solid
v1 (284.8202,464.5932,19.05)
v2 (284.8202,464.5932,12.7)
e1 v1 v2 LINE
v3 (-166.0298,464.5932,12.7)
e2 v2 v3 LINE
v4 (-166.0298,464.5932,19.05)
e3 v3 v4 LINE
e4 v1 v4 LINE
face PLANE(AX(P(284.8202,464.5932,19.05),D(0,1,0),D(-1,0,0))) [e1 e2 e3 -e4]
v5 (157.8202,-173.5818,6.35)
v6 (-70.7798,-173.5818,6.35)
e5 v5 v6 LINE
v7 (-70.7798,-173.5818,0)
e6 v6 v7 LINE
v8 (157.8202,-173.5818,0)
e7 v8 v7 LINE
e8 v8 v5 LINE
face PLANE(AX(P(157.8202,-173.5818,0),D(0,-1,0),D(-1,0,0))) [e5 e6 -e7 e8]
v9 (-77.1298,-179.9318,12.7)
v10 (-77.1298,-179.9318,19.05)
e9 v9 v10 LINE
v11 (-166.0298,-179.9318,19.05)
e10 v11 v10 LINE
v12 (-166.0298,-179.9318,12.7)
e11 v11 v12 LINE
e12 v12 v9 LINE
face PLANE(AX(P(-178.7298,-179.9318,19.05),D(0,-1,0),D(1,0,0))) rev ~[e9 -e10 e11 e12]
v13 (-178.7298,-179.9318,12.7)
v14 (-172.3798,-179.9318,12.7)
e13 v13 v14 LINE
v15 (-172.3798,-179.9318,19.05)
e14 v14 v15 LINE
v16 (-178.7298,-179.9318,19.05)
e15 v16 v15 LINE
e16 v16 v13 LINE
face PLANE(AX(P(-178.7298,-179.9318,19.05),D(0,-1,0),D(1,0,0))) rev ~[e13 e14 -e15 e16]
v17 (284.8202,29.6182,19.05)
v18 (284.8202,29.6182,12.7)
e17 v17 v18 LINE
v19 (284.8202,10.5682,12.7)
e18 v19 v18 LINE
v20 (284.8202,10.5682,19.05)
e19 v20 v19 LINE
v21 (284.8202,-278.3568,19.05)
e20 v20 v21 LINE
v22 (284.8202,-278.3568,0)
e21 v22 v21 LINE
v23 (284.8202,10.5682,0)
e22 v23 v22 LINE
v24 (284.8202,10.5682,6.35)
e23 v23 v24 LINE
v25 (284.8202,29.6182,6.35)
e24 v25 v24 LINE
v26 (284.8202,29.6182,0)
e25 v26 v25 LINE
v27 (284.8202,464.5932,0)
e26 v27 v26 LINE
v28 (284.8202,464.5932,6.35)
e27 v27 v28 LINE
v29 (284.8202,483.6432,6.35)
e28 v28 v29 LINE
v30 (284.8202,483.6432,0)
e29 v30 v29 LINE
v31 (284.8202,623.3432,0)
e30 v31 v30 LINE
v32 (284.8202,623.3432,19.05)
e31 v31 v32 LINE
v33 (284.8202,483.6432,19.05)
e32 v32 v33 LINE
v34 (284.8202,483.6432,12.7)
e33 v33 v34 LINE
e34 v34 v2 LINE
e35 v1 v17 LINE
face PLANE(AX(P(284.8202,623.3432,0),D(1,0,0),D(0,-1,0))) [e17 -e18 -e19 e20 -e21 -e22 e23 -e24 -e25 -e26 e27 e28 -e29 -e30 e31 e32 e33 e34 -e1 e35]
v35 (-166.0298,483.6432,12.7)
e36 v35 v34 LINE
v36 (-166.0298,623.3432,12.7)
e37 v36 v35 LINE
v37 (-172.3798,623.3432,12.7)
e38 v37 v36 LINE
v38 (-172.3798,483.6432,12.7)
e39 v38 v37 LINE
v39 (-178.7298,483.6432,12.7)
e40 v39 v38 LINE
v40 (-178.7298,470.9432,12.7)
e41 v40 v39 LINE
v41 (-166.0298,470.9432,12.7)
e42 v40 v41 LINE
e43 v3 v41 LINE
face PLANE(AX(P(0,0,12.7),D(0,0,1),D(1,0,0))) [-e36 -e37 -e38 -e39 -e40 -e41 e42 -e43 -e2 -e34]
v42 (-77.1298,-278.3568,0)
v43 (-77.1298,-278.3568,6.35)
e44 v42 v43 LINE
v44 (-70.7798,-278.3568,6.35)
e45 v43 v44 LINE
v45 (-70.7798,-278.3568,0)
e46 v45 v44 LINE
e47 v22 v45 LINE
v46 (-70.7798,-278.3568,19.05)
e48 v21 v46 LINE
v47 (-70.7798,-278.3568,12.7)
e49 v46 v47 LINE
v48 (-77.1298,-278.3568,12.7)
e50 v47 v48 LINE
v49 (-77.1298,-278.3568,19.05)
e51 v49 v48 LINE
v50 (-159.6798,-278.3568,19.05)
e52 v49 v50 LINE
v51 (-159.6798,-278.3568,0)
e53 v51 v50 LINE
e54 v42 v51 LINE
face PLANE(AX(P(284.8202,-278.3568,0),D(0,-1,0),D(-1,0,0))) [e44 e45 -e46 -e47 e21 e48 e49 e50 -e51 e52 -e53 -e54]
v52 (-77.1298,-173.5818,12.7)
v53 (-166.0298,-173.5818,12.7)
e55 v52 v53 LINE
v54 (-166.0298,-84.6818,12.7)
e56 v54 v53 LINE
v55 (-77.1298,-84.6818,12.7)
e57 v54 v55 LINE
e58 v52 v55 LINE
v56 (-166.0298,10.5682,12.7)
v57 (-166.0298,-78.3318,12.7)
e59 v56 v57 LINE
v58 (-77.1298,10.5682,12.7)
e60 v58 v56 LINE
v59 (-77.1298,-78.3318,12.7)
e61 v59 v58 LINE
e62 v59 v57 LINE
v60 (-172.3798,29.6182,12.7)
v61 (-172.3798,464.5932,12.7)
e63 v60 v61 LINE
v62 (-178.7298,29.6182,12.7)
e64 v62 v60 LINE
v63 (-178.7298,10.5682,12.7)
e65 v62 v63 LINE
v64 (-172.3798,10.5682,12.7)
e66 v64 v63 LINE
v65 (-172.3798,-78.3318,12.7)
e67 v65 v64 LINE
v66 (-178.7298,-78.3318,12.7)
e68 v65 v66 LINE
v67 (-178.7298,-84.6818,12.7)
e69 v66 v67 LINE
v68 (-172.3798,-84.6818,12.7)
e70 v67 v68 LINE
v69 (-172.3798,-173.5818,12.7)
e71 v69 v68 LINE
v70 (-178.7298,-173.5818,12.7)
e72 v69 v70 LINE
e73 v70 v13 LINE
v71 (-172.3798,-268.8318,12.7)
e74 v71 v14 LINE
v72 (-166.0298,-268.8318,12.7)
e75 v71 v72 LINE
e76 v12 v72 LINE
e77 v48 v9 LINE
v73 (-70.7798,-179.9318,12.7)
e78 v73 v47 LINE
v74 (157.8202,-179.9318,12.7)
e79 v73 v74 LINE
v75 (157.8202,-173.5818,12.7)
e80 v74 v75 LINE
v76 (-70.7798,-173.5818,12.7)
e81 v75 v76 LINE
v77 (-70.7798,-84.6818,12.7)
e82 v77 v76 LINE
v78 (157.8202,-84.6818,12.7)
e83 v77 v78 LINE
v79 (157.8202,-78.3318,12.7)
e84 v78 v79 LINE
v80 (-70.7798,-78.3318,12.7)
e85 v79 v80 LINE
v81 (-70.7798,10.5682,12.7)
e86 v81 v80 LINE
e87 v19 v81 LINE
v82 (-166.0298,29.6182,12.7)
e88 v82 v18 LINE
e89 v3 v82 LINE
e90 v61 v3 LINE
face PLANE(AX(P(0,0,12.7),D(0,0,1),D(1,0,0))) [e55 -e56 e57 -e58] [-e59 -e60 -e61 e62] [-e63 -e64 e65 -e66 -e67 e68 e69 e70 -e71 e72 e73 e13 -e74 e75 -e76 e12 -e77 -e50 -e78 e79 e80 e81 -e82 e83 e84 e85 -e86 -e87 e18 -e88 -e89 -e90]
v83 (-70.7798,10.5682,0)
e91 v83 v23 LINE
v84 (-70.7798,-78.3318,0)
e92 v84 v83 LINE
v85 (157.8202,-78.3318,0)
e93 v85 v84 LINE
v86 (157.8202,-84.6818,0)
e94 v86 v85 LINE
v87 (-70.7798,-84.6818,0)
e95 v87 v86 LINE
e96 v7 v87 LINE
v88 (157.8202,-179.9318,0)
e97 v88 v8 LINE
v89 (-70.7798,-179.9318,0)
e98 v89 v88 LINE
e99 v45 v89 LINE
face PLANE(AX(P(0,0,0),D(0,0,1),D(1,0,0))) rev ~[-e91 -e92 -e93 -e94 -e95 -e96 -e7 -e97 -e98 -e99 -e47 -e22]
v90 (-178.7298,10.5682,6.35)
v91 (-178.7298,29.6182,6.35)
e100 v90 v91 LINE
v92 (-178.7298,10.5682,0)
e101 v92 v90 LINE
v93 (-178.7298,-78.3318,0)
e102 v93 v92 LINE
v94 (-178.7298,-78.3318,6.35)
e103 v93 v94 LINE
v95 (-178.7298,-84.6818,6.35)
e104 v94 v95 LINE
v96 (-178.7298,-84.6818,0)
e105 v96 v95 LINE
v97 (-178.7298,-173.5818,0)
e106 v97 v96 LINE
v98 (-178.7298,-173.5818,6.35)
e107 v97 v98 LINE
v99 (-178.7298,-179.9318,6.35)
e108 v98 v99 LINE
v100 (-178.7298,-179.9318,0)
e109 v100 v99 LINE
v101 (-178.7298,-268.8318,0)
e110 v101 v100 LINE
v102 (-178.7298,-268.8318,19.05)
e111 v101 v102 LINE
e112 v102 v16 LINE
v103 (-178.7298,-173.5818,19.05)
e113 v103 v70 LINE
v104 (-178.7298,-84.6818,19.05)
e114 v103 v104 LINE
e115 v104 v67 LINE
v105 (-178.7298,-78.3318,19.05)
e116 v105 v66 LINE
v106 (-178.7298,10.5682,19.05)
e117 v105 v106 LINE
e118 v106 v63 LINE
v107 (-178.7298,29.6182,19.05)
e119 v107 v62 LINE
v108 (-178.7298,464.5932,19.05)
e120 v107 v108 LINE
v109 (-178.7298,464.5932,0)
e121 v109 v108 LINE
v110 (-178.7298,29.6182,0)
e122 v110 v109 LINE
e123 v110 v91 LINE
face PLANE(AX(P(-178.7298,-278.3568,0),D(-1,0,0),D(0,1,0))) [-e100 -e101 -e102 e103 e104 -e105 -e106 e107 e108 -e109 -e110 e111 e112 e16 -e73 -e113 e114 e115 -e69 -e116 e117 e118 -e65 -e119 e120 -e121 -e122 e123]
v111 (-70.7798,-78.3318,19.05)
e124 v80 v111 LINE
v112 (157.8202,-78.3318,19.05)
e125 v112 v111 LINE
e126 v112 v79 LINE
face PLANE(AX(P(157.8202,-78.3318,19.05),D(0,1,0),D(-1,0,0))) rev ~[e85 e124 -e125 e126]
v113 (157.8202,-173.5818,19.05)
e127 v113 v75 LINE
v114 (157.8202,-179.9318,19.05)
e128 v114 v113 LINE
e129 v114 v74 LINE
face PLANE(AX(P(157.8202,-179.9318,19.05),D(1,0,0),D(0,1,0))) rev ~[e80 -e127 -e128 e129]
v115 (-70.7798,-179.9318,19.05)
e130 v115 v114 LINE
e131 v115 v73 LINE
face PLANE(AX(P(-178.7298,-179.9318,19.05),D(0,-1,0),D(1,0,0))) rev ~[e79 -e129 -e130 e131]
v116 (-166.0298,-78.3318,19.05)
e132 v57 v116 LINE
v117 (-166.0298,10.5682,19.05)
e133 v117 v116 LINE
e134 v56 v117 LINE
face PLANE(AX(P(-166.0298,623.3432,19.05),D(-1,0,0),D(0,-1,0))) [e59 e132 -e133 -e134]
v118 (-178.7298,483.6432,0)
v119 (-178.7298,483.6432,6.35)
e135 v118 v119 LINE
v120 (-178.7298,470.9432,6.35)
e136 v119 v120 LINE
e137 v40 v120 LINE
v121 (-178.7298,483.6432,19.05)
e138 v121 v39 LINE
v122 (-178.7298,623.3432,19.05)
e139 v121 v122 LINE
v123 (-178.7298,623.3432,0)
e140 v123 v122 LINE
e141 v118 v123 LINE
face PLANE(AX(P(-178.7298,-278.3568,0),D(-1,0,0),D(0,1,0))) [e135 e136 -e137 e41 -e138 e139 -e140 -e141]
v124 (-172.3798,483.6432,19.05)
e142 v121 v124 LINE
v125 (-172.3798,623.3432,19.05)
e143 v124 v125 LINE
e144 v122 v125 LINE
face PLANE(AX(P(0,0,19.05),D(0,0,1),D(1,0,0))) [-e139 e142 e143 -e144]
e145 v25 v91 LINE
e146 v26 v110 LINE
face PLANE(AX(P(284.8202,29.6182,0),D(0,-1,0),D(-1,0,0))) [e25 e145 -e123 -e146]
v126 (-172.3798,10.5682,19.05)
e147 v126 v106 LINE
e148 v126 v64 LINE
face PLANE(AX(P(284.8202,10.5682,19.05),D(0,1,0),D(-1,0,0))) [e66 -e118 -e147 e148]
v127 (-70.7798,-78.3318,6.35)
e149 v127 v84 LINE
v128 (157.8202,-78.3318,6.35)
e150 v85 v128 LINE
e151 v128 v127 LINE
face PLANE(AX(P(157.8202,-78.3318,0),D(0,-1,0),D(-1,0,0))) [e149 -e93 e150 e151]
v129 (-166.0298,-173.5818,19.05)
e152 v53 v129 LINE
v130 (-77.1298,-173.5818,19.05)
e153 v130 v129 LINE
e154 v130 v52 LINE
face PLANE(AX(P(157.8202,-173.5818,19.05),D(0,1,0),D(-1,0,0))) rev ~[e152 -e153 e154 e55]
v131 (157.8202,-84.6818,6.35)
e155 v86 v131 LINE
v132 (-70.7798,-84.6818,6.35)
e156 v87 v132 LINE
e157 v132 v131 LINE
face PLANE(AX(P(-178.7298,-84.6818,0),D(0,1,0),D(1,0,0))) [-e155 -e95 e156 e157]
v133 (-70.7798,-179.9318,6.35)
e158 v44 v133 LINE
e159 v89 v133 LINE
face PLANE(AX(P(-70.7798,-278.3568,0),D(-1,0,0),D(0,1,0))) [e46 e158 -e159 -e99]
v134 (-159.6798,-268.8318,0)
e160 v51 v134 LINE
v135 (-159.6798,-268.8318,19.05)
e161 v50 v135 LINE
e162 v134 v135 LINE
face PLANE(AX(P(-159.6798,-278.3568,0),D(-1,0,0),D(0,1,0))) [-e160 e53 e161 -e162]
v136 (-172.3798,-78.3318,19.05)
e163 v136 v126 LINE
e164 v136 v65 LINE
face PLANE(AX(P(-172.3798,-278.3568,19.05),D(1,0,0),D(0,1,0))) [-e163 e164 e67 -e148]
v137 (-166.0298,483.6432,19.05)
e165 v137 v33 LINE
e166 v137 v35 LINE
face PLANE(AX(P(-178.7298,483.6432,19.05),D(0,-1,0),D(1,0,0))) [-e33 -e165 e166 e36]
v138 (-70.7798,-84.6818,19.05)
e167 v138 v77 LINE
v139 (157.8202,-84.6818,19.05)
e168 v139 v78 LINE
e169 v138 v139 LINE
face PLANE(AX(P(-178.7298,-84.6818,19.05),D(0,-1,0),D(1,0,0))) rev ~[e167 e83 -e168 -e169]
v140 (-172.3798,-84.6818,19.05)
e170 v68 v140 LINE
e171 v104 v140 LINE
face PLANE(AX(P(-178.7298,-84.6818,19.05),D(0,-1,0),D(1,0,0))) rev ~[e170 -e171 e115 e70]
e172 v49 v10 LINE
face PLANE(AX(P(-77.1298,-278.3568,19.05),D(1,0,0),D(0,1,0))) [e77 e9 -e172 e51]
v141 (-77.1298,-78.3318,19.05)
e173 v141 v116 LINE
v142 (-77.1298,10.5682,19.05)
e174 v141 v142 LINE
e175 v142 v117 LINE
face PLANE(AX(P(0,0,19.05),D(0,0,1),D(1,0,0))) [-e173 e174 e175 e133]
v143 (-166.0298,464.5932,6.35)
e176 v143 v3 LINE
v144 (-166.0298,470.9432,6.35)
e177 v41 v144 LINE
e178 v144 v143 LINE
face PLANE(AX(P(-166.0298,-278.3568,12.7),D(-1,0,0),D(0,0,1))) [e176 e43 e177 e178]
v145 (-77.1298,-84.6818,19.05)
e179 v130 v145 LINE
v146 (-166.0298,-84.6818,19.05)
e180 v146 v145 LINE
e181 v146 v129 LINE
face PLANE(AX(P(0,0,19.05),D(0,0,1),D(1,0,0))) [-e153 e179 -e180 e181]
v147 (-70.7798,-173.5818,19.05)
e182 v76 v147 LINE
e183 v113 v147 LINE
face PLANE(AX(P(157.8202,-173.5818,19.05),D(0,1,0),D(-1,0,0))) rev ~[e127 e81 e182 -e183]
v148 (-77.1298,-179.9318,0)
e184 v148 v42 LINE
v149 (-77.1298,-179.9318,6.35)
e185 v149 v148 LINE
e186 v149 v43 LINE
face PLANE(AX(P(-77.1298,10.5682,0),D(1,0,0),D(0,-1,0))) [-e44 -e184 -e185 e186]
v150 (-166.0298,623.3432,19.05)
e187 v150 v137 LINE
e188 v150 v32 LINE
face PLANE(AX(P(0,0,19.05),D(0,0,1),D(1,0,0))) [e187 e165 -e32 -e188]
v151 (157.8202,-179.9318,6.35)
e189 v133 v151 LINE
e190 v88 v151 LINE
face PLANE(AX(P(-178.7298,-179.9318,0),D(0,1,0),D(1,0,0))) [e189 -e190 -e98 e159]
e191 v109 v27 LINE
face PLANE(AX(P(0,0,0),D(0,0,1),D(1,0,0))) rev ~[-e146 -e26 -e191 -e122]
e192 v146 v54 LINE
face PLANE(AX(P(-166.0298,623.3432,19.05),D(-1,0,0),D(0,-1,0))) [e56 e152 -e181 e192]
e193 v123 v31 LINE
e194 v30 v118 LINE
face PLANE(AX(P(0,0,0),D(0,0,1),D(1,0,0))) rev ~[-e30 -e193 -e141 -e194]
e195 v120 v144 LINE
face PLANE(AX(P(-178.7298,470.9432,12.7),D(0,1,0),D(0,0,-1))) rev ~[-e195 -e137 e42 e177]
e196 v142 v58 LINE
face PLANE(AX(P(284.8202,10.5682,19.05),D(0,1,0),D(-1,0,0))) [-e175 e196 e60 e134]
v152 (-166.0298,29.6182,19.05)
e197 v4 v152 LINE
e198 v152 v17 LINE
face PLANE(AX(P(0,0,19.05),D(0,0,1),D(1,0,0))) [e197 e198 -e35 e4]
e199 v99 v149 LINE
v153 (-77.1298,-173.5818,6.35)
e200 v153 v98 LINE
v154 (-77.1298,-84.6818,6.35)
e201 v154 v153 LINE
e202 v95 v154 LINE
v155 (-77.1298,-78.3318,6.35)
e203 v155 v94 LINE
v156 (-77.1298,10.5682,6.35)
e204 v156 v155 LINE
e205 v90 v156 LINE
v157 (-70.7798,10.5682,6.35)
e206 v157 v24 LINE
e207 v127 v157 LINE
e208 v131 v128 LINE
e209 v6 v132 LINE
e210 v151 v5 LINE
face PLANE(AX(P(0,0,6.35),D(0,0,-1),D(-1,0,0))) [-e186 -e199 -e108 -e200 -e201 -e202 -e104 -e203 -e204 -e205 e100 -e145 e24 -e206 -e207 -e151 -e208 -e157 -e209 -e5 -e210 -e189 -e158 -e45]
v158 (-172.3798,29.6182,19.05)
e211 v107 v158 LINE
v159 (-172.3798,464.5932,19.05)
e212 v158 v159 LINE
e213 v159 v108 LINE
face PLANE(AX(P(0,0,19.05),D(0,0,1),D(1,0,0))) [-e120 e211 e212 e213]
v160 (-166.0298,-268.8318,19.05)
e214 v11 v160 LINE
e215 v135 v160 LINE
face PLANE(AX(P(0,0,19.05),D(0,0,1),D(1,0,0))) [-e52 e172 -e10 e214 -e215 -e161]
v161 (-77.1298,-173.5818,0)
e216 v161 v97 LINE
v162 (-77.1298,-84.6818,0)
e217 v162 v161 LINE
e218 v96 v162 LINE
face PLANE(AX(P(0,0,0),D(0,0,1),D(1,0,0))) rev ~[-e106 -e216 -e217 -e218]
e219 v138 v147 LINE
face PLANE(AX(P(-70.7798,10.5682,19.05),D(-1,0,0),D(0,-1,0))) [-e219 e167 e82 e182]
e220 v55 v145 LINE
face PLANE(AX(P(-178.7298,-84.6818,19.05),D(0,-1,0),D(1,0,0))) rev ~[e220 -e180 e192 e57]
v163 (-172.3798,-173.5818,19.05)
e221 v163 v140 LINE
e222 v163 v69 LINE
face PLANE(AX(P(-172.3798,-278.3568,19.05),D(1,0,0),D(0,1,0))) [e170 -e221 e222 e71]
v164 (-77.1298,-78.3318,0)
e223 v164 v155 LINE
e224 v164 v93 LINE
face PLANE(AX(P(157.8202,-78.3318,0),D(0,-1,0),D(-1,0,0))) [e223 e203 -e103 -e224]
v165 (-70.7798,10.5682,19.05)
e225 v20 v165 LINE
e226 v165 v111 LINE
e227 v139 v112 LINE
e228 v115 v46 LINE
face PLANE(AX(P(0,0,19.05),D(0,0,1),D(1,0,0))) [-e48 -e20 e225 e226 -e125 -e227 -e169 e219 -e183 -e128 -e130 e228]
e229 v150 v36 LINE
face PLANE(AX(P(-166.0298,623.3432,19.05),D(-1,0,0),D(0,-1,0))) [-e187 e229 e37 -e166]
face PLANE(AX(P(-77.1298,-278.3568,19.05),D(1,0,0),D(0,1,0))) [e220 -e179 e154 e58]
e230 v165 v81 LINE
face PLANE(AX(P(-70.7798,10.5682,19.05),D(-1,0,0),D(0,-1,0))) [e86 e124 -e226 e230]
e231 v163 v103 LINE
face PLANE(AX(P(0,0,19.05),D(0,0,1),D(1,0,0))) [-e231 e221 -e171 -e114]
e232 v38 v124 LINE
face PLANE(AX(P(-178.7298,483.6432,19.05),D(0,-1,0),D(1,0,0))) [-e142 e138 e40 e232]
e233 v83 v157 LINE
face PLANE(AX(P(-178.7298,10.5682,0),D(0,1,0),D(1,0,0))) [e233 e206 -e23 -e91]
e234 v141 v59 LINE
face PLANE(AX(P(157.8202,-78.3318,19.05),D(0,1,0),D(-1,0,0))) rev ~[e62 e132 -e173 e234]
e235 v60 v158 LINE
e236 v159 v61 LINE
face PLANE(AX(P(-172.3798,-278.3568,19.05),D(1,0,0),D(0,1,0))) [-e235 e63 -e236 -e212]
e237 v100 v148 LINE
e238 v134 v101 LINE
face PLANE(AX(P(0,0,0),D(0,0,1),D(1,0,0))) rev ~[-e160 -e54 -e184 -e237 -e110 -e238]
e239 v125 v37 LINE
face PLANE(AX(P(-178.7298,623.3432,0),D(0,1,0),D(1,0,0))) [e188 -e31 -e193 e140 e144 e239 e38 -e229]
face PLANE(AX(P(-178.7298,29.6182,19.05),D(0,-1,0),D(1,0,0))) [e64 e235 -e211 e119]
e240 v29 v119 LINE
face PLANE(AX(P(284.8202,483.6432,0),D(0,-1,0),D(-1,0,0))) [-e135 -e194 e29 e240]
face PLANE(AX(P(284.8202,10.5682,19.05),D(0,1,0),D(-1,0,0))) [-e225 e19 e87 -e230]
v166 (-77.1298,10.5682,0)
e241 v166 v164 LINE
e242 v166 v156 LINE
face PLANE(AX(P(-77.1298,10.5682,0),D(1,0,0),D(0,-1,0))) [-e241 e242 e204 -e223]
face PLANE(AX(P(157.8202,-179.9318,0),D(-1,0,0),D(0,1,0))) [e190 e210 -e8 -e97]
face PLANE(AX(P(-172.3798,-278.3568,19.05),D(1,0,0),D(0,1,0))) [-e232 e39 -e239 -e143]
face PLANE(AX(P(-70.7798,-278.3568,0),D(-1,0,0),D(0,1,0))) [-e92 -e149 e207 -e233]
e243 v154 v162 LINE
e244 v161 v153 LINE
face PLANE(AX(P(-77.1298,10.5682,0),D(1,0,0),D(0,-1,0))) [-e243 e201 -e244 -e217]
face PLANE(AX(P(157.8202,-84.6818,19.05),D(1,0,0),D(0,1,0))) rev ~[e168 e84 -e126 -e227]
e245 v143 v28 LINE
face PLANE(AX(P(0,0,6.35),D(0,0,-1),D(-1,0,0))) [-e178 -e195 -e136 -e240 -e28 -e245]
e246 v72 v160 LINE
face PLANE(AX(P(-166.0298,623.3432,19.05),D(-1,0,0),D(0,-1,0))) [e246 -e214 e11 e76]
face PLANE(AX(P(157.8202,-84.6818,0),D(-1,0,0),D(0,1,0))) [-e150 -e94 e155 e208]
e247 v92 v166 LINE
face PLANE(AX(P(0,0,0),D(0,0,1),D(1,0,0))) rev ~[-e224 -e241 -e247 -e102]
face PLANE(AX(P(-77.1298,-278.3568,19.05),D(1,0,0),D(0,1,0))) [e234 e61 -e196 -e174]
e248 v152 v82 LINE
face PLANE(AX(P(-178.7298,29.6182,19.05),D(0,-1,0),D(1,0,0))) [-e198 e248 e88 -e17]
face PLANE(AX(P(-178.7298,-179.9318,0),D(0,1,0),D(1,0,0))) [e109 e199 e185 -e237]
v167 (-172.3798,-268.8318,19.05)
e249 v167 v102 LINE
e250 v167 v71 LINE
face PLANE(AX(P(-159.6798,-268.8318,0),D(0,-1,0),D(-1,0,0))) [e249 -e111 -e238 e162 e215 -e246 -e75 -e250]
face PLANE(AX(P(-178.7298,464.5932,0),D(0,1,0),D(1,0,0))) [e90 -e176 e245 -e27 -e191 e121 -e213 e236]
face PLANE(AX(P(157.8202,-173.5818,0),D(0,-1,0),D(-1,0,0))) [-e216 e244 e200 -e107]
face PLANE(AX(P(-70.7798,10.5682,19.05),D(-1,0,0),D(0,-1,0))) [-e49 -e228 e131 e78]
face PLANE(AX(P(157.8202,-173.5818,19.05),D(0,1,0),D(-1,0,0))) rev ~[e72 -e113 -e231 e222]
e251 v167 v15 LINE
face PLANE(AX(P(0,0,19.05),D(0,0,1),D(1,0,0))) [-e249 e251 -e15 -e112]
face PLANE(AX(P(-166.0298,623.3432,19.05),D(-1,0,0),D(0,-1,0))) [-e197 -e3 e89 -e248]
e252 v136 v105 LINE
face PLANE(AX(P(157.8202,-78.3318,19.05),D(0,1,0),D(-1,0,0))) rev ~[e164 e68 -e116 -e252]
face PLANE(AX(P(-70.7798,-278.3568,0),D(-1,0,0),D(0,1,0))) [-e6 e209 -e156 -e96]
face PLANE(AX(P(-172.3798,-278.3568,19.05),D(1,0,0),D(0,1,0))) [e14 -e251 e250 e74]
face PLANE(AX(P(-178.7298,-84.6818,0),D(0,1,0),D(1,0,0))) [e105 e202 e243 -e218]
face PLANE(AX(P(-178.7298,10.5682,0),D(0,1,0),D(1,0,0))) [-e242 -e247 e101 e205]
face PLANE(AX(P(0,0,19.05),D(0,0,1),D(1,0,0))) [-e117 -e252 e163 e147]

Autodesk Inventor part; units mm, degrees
ref_plane "YZ Plane" through (0, 0, 0) normal (1, 0, 0) x (0, 1, 0)
ref_plane "XZ Plane" through (0, 0, 0) normal (0, 1, 0) x (-1, 0, 0)
ref_plane "XY Plane" through (0, 0, 0) normal (0, 0, 1) x (1, 0, 0)
sketch "Sketch1" plane through (0, 0, 0) normal (0, 0, 1) x (1, 0, 0)
  line L0 (-178.7298, 623.3432) -> (284.8202, 623.3432)
  line L1 (284.8202, 623.3432) -> (284.8202, -278.3568)
  line L2 (284.8202, -278.3568) -> (-178.7298, -278.3568)
  line L3 (-178.7298, -278.3568) -> (-178.7298, 623.3432)
  point P0 (0, 0)
  dimension "d0" = 901.7
  dimension "d1" = 463.55
extrude "Board" add sketch "Sketch1" along normal blind 19.05
sketch "Sketch6" plane through (0, 0, 0) normal (0, 0, -1) x (-1, 0, 0)
  line L0 (-284.8202, 483.6432) -> (178.7298, 483.6432)
  line L1 (178.7298, 483.6432) -> (178.7298, 464.5932)
  line L2 (178.7298, 464.5932) -> (-284.8202, 464.5932)
  line L3 (-284.8202, 464.5932) -> (-284.8202, 483.6432)
  line L4 (178.7298, 623.3432) -> (-284.8202, 623.3432) projected
  line L5 (178.7298, -278.3568) -> (178.7298, 623.3432) projected
  line L6 (-284.8202, 623.3432) -> (-284.8202, -278.3568) projected
  line L7 (-284.8202, 29.6182) -> (178.7298, 29.6182)
  line L8 (178.7298, 29.6182) -> (178.7298, 10.5682)
  line L9 (178.7298, 10.5682) -> (-284.8202, 10.5682)
  line L10 (-284.8202, 10.5682) -> (-284.8202, 29.6182)
  point P0 (0, 0)
  dimension "d30" = 19.05
  dimension "d37" = 434.975
  dimension "d119" = 139.7
extrude "Right Shelf Dados" cut sketch "Sketch6" against normal blind 6.35 contours L0 L1 L2 L3 | L7 L5 L9 L6
sketch "Sketch32" plane through (0, 0, 0) normal (0, 0, -1) x (-1, 0, 0)
  line L0 (-157.8202, -78.3318) -> (178.7298, -78.3318)
  line L1 (178.7298, -78.3318) -> (178.7298, -84.6818)
  line L2 (178.7298, -84.6818) -> (-157.8202, -84.6818)
  line L3 (-157.8202, -84.6818) -> (-157.8202, -78.3318)
  line L4 (-157.8202, -173.5818) -> (178.7298, -173.5818)
  line L5 (178.7298, -173.5818) -> (178.7298, -179.9318)
  line L6 (178.7298, -179.9318) -> (-157.8202, -179.9318)
  line L7 (-157.8202, -179.9318) -> (-157.8202, -173.5818)
  line L8 (-284.8202, 623.3432) -> (-284.8202, -278.3568) projected
  line L9 (178.7298, 623.3432) -> (178.7298, -278.3568) projected
  line L10 (-284.8202, -278.3568) -> (178.7298, -278.3568) projected
  point P0 (0, 0)
  point P1 (-284.8202, 10.5682)
  dimension "d142" = 88.9
  dimension "d143" = 6.35
  dimension "d146" = 336.55
  dimension "d167" = 127
  dimension "d170" = 98.425
extrude "Right Wine Rack Horizonal Dados" cut sketch "Sketch32" against normal blind 6.35
sketch "Sketch33" plane through (0, 0, 0) normal (0, 0, -1) x (-1, 0, 0)
  line L0 (178.7298, 10.5682) -> (-284.8202, 10.5682) projected
  line L1 (70.7798, 10.5682) -> (77.1298, 10.5682)
  line L2 (77.1298, 10.5682) -> (77.1298, -278.3568)
  line L3 (77.1298, -278.3568) -> (70.7798, -278.3568)
  line L4 (70.7798, -278.3568) -> (70.7798, 10.5682)
  line L5 (-157.8202, -84.6818) -> (-157.8202, -78.3318) projected
  line L6 (-284.8202, -278.3568) -> (178.7298, -278.3568) projected
  point P0 (0, 0)
  dimension "d149" = 6.35
  dimension "d168" = 228.6
extrude "Right Wine Rack Vertical Dado" cut sketch "Sketch33" against normal blind 6.35
sketch "Sketch7" plane through (0, 0, 19.05) normal (0, 0, 1) x (1, 0, 0)
  line L0 (-178.7298, 483.6432) -> (284.8202, 483.6432)
  line L1 (284.8202, 483.6432) -> (284.8202, 464.5932)
  line L2 (284.8202, 464.5932) -> (-178.7298, 464.5932)
  line L3 (-178.7298, 464.5932) -> (-178.7298, 483.6432)
  line L4 (284.8202, 483.6432) -> (-178.7298, 483.6432) projected
  line L5 (-178.7298, 464.5932) -> (284.8202, 464.5932) projected
  line L6 (284.8202, -278.3568) -> (284.8202, 623.3432) projected
  line L7 (-178.7298, 623.3432) -> (-178.7298, -278.3568) projected
  line L8 (-178.7298, 29.6182) -> (284.8202, 29.6182)
  line L9 (284.8202, 29.6182) -> (284.8202, 10.5682)
  line L10 (284.8202, 10.5682) -> (-178.7298, 10.5682)
  line L11 (-178.7298, 10.5682) -> (-178.7298, 29.6182)
  point P0 (0, 0)
  point P1 (284.8202, 20.0932)
  dimension "d36" = 434.975
extrude "Left Shelf Dados" cut sketch "Sketch7" against normal blind 6.35 contours L0 L1 L2 L3 | L8 L6 L10 L7
sketch "Sketch34" plane through (0, 0, 19.05) normal (0, 0, 1) x (1, 0, 0)
  line L0 (157.8202, -78.3318) -> (-178.7298, -78.3318)
  line L1 (-178.7298, -78.3318) -> (-178.7298, -84.6818)
  line L2 (-178.7298, -84.6818) -> (157.8202, -84.6818)
  line L3 (157.8202, -84.6818) -> (157.8202, -78.3318)
  line L4 (157.8202, -173.5818) -> (-178.7298, -173.5818)
  line L5 (-178.7298, -173.5818) -> (-178.7298, -179.9318)
  line L6 (-178.7298, -179.9318) -> (157.8202, -179.9318)
  line L7 (157.8202, -179.9318) -> (157.8202, -173.5818)
  line L8 (284.8202, -278.3568) -> (284.8202, 10.5682) projected
  line L9 (-178.7298, 10.5682) -> (-178.7298, 483.6432) projected
  line L10 (-178.7298, -278.3568) -> (284.8202, -278.3568) projected
  point P0 (0, 0)
  dimension "d153" = 6.35
  dimension "d155" = 88.9
  dimension "d164" = 127
  dimension "d171" = 98.425
extrude "Left Wine Rack Horizontal Dados" cut sketch "Sketch34" against normal blind 6.35
sketch "Sketch35" plane through (0, 0, 19.05) normal (0, 0, 1) x (1, 0, 0)
  line L0 (284.8202, 10.5682) -> (-178.7298, 10.5682) projected
  line L1 (-77.1298, 10.5682) -> (-70.7798, 10.5682)
  line L2 (-70.7798, 10.5682) -> (-70.7798, -278.3568)
  line L3 (-70.7798, -278.3568) -> (-77.1298, -278.3568)
  line L4 (-77.1298, -278.3568) -> (-77.1298, 10.5682)
  line L5 (157.8202, -78.3318) -> (157.8202, -84.6818) projected
  line L6 (-178.7298, -278.3568) -> (284.8202, -278.3568) projected
  point P0 (0, 0)
  dimension "d159" = 6.35
  dimension "d165" = 228.6
extrude "Left Wine Rack  Vertical Dado" cut sketch "Sketch35" against normal blind 6.35
sketch "Sketch10" plane through (0, 0, 19.05) normal (0, 0, 1) x (1, 0, 0)
  line L0 (284.8202, -278.3568) -> (-178.7298, -278.3568) projected
  line L1 (-172.3798, 623.3432) -> (-166.0298, 623.3432)
  line L2 (-166.0298, 623.3432) -> (-166.0298, -278.3568)
  line L3 (-166.0298, -278.3568) -> (-172.3798, -278.3568)
  line L4 (-172.3798, -278.3568) -> (-172.3798, 623.3432)
  line L5 (-178.7298, 464.5932) -> (-178.7298, 29.6182) projected
  line L6 (284.8202, 623.3432) -> (-178.7298, 623.3432) projected
  point P0 (0, 0)
  point P1 (-172.3798, -278.3568)
  dimension "d172" = 6.35
  dimension "d173" = 6.35
extrude "Vertical Wire Channel" cut sketch "Sketch10" against normal blind 6.35
sketch "Sketch12" plane through (-178.7298, -278.3568, 12.7) normal (-1, 0, 0) x (0, 0, 1)
  line L0 (-6.35, 742.95) -> (0, 742.95)
  line L1 (0, 742.95) -> (0, 749.3)
  line L2 (0, 749.3) -> (-6.35, 749.3)
  line L3 (-6.35, 749.3) -> (-6.35, 742.95)
  line L4 (0, 288.925) -> (0, 307.975) projected
  line L5 (-6.35, 742.95) -> (-12.7, 742.95) projected
  point P0 (0, 0)
  point P1 (0, 901.7)
  dimension "d51" = 6.35
extrude "Top Horizontal Wire Channel" cut sketch "Sketch12" against normal blind 12.7
sketch "Sketch36" plane through (0, 0, 0) normal (0, 0, -1) x (-1, 0, 0)
  line L0 (77.1298, -278.3568) -> (178.7298, -278.3568) projected
  line L1 (178.7298, -278.3568) -> (159.6798, -278.3568)
  line L2 (159.6798, -278.3568) -> (159.6798, -268.8318)
  line L3 (159.6798, -268.8318) -> (178.7298, -268.8318)
  line L4 (178.7298, -268.8318) -> (178.7298, -278.3568)
  point P0 (0, 0)
  dimension "d174" = 19.05
  dimension "d175" = 9.525
extrude "Extrusion33" cut sketch "Sketch36" against normal blind 19.05
properties part number "Vertical Shelf"
